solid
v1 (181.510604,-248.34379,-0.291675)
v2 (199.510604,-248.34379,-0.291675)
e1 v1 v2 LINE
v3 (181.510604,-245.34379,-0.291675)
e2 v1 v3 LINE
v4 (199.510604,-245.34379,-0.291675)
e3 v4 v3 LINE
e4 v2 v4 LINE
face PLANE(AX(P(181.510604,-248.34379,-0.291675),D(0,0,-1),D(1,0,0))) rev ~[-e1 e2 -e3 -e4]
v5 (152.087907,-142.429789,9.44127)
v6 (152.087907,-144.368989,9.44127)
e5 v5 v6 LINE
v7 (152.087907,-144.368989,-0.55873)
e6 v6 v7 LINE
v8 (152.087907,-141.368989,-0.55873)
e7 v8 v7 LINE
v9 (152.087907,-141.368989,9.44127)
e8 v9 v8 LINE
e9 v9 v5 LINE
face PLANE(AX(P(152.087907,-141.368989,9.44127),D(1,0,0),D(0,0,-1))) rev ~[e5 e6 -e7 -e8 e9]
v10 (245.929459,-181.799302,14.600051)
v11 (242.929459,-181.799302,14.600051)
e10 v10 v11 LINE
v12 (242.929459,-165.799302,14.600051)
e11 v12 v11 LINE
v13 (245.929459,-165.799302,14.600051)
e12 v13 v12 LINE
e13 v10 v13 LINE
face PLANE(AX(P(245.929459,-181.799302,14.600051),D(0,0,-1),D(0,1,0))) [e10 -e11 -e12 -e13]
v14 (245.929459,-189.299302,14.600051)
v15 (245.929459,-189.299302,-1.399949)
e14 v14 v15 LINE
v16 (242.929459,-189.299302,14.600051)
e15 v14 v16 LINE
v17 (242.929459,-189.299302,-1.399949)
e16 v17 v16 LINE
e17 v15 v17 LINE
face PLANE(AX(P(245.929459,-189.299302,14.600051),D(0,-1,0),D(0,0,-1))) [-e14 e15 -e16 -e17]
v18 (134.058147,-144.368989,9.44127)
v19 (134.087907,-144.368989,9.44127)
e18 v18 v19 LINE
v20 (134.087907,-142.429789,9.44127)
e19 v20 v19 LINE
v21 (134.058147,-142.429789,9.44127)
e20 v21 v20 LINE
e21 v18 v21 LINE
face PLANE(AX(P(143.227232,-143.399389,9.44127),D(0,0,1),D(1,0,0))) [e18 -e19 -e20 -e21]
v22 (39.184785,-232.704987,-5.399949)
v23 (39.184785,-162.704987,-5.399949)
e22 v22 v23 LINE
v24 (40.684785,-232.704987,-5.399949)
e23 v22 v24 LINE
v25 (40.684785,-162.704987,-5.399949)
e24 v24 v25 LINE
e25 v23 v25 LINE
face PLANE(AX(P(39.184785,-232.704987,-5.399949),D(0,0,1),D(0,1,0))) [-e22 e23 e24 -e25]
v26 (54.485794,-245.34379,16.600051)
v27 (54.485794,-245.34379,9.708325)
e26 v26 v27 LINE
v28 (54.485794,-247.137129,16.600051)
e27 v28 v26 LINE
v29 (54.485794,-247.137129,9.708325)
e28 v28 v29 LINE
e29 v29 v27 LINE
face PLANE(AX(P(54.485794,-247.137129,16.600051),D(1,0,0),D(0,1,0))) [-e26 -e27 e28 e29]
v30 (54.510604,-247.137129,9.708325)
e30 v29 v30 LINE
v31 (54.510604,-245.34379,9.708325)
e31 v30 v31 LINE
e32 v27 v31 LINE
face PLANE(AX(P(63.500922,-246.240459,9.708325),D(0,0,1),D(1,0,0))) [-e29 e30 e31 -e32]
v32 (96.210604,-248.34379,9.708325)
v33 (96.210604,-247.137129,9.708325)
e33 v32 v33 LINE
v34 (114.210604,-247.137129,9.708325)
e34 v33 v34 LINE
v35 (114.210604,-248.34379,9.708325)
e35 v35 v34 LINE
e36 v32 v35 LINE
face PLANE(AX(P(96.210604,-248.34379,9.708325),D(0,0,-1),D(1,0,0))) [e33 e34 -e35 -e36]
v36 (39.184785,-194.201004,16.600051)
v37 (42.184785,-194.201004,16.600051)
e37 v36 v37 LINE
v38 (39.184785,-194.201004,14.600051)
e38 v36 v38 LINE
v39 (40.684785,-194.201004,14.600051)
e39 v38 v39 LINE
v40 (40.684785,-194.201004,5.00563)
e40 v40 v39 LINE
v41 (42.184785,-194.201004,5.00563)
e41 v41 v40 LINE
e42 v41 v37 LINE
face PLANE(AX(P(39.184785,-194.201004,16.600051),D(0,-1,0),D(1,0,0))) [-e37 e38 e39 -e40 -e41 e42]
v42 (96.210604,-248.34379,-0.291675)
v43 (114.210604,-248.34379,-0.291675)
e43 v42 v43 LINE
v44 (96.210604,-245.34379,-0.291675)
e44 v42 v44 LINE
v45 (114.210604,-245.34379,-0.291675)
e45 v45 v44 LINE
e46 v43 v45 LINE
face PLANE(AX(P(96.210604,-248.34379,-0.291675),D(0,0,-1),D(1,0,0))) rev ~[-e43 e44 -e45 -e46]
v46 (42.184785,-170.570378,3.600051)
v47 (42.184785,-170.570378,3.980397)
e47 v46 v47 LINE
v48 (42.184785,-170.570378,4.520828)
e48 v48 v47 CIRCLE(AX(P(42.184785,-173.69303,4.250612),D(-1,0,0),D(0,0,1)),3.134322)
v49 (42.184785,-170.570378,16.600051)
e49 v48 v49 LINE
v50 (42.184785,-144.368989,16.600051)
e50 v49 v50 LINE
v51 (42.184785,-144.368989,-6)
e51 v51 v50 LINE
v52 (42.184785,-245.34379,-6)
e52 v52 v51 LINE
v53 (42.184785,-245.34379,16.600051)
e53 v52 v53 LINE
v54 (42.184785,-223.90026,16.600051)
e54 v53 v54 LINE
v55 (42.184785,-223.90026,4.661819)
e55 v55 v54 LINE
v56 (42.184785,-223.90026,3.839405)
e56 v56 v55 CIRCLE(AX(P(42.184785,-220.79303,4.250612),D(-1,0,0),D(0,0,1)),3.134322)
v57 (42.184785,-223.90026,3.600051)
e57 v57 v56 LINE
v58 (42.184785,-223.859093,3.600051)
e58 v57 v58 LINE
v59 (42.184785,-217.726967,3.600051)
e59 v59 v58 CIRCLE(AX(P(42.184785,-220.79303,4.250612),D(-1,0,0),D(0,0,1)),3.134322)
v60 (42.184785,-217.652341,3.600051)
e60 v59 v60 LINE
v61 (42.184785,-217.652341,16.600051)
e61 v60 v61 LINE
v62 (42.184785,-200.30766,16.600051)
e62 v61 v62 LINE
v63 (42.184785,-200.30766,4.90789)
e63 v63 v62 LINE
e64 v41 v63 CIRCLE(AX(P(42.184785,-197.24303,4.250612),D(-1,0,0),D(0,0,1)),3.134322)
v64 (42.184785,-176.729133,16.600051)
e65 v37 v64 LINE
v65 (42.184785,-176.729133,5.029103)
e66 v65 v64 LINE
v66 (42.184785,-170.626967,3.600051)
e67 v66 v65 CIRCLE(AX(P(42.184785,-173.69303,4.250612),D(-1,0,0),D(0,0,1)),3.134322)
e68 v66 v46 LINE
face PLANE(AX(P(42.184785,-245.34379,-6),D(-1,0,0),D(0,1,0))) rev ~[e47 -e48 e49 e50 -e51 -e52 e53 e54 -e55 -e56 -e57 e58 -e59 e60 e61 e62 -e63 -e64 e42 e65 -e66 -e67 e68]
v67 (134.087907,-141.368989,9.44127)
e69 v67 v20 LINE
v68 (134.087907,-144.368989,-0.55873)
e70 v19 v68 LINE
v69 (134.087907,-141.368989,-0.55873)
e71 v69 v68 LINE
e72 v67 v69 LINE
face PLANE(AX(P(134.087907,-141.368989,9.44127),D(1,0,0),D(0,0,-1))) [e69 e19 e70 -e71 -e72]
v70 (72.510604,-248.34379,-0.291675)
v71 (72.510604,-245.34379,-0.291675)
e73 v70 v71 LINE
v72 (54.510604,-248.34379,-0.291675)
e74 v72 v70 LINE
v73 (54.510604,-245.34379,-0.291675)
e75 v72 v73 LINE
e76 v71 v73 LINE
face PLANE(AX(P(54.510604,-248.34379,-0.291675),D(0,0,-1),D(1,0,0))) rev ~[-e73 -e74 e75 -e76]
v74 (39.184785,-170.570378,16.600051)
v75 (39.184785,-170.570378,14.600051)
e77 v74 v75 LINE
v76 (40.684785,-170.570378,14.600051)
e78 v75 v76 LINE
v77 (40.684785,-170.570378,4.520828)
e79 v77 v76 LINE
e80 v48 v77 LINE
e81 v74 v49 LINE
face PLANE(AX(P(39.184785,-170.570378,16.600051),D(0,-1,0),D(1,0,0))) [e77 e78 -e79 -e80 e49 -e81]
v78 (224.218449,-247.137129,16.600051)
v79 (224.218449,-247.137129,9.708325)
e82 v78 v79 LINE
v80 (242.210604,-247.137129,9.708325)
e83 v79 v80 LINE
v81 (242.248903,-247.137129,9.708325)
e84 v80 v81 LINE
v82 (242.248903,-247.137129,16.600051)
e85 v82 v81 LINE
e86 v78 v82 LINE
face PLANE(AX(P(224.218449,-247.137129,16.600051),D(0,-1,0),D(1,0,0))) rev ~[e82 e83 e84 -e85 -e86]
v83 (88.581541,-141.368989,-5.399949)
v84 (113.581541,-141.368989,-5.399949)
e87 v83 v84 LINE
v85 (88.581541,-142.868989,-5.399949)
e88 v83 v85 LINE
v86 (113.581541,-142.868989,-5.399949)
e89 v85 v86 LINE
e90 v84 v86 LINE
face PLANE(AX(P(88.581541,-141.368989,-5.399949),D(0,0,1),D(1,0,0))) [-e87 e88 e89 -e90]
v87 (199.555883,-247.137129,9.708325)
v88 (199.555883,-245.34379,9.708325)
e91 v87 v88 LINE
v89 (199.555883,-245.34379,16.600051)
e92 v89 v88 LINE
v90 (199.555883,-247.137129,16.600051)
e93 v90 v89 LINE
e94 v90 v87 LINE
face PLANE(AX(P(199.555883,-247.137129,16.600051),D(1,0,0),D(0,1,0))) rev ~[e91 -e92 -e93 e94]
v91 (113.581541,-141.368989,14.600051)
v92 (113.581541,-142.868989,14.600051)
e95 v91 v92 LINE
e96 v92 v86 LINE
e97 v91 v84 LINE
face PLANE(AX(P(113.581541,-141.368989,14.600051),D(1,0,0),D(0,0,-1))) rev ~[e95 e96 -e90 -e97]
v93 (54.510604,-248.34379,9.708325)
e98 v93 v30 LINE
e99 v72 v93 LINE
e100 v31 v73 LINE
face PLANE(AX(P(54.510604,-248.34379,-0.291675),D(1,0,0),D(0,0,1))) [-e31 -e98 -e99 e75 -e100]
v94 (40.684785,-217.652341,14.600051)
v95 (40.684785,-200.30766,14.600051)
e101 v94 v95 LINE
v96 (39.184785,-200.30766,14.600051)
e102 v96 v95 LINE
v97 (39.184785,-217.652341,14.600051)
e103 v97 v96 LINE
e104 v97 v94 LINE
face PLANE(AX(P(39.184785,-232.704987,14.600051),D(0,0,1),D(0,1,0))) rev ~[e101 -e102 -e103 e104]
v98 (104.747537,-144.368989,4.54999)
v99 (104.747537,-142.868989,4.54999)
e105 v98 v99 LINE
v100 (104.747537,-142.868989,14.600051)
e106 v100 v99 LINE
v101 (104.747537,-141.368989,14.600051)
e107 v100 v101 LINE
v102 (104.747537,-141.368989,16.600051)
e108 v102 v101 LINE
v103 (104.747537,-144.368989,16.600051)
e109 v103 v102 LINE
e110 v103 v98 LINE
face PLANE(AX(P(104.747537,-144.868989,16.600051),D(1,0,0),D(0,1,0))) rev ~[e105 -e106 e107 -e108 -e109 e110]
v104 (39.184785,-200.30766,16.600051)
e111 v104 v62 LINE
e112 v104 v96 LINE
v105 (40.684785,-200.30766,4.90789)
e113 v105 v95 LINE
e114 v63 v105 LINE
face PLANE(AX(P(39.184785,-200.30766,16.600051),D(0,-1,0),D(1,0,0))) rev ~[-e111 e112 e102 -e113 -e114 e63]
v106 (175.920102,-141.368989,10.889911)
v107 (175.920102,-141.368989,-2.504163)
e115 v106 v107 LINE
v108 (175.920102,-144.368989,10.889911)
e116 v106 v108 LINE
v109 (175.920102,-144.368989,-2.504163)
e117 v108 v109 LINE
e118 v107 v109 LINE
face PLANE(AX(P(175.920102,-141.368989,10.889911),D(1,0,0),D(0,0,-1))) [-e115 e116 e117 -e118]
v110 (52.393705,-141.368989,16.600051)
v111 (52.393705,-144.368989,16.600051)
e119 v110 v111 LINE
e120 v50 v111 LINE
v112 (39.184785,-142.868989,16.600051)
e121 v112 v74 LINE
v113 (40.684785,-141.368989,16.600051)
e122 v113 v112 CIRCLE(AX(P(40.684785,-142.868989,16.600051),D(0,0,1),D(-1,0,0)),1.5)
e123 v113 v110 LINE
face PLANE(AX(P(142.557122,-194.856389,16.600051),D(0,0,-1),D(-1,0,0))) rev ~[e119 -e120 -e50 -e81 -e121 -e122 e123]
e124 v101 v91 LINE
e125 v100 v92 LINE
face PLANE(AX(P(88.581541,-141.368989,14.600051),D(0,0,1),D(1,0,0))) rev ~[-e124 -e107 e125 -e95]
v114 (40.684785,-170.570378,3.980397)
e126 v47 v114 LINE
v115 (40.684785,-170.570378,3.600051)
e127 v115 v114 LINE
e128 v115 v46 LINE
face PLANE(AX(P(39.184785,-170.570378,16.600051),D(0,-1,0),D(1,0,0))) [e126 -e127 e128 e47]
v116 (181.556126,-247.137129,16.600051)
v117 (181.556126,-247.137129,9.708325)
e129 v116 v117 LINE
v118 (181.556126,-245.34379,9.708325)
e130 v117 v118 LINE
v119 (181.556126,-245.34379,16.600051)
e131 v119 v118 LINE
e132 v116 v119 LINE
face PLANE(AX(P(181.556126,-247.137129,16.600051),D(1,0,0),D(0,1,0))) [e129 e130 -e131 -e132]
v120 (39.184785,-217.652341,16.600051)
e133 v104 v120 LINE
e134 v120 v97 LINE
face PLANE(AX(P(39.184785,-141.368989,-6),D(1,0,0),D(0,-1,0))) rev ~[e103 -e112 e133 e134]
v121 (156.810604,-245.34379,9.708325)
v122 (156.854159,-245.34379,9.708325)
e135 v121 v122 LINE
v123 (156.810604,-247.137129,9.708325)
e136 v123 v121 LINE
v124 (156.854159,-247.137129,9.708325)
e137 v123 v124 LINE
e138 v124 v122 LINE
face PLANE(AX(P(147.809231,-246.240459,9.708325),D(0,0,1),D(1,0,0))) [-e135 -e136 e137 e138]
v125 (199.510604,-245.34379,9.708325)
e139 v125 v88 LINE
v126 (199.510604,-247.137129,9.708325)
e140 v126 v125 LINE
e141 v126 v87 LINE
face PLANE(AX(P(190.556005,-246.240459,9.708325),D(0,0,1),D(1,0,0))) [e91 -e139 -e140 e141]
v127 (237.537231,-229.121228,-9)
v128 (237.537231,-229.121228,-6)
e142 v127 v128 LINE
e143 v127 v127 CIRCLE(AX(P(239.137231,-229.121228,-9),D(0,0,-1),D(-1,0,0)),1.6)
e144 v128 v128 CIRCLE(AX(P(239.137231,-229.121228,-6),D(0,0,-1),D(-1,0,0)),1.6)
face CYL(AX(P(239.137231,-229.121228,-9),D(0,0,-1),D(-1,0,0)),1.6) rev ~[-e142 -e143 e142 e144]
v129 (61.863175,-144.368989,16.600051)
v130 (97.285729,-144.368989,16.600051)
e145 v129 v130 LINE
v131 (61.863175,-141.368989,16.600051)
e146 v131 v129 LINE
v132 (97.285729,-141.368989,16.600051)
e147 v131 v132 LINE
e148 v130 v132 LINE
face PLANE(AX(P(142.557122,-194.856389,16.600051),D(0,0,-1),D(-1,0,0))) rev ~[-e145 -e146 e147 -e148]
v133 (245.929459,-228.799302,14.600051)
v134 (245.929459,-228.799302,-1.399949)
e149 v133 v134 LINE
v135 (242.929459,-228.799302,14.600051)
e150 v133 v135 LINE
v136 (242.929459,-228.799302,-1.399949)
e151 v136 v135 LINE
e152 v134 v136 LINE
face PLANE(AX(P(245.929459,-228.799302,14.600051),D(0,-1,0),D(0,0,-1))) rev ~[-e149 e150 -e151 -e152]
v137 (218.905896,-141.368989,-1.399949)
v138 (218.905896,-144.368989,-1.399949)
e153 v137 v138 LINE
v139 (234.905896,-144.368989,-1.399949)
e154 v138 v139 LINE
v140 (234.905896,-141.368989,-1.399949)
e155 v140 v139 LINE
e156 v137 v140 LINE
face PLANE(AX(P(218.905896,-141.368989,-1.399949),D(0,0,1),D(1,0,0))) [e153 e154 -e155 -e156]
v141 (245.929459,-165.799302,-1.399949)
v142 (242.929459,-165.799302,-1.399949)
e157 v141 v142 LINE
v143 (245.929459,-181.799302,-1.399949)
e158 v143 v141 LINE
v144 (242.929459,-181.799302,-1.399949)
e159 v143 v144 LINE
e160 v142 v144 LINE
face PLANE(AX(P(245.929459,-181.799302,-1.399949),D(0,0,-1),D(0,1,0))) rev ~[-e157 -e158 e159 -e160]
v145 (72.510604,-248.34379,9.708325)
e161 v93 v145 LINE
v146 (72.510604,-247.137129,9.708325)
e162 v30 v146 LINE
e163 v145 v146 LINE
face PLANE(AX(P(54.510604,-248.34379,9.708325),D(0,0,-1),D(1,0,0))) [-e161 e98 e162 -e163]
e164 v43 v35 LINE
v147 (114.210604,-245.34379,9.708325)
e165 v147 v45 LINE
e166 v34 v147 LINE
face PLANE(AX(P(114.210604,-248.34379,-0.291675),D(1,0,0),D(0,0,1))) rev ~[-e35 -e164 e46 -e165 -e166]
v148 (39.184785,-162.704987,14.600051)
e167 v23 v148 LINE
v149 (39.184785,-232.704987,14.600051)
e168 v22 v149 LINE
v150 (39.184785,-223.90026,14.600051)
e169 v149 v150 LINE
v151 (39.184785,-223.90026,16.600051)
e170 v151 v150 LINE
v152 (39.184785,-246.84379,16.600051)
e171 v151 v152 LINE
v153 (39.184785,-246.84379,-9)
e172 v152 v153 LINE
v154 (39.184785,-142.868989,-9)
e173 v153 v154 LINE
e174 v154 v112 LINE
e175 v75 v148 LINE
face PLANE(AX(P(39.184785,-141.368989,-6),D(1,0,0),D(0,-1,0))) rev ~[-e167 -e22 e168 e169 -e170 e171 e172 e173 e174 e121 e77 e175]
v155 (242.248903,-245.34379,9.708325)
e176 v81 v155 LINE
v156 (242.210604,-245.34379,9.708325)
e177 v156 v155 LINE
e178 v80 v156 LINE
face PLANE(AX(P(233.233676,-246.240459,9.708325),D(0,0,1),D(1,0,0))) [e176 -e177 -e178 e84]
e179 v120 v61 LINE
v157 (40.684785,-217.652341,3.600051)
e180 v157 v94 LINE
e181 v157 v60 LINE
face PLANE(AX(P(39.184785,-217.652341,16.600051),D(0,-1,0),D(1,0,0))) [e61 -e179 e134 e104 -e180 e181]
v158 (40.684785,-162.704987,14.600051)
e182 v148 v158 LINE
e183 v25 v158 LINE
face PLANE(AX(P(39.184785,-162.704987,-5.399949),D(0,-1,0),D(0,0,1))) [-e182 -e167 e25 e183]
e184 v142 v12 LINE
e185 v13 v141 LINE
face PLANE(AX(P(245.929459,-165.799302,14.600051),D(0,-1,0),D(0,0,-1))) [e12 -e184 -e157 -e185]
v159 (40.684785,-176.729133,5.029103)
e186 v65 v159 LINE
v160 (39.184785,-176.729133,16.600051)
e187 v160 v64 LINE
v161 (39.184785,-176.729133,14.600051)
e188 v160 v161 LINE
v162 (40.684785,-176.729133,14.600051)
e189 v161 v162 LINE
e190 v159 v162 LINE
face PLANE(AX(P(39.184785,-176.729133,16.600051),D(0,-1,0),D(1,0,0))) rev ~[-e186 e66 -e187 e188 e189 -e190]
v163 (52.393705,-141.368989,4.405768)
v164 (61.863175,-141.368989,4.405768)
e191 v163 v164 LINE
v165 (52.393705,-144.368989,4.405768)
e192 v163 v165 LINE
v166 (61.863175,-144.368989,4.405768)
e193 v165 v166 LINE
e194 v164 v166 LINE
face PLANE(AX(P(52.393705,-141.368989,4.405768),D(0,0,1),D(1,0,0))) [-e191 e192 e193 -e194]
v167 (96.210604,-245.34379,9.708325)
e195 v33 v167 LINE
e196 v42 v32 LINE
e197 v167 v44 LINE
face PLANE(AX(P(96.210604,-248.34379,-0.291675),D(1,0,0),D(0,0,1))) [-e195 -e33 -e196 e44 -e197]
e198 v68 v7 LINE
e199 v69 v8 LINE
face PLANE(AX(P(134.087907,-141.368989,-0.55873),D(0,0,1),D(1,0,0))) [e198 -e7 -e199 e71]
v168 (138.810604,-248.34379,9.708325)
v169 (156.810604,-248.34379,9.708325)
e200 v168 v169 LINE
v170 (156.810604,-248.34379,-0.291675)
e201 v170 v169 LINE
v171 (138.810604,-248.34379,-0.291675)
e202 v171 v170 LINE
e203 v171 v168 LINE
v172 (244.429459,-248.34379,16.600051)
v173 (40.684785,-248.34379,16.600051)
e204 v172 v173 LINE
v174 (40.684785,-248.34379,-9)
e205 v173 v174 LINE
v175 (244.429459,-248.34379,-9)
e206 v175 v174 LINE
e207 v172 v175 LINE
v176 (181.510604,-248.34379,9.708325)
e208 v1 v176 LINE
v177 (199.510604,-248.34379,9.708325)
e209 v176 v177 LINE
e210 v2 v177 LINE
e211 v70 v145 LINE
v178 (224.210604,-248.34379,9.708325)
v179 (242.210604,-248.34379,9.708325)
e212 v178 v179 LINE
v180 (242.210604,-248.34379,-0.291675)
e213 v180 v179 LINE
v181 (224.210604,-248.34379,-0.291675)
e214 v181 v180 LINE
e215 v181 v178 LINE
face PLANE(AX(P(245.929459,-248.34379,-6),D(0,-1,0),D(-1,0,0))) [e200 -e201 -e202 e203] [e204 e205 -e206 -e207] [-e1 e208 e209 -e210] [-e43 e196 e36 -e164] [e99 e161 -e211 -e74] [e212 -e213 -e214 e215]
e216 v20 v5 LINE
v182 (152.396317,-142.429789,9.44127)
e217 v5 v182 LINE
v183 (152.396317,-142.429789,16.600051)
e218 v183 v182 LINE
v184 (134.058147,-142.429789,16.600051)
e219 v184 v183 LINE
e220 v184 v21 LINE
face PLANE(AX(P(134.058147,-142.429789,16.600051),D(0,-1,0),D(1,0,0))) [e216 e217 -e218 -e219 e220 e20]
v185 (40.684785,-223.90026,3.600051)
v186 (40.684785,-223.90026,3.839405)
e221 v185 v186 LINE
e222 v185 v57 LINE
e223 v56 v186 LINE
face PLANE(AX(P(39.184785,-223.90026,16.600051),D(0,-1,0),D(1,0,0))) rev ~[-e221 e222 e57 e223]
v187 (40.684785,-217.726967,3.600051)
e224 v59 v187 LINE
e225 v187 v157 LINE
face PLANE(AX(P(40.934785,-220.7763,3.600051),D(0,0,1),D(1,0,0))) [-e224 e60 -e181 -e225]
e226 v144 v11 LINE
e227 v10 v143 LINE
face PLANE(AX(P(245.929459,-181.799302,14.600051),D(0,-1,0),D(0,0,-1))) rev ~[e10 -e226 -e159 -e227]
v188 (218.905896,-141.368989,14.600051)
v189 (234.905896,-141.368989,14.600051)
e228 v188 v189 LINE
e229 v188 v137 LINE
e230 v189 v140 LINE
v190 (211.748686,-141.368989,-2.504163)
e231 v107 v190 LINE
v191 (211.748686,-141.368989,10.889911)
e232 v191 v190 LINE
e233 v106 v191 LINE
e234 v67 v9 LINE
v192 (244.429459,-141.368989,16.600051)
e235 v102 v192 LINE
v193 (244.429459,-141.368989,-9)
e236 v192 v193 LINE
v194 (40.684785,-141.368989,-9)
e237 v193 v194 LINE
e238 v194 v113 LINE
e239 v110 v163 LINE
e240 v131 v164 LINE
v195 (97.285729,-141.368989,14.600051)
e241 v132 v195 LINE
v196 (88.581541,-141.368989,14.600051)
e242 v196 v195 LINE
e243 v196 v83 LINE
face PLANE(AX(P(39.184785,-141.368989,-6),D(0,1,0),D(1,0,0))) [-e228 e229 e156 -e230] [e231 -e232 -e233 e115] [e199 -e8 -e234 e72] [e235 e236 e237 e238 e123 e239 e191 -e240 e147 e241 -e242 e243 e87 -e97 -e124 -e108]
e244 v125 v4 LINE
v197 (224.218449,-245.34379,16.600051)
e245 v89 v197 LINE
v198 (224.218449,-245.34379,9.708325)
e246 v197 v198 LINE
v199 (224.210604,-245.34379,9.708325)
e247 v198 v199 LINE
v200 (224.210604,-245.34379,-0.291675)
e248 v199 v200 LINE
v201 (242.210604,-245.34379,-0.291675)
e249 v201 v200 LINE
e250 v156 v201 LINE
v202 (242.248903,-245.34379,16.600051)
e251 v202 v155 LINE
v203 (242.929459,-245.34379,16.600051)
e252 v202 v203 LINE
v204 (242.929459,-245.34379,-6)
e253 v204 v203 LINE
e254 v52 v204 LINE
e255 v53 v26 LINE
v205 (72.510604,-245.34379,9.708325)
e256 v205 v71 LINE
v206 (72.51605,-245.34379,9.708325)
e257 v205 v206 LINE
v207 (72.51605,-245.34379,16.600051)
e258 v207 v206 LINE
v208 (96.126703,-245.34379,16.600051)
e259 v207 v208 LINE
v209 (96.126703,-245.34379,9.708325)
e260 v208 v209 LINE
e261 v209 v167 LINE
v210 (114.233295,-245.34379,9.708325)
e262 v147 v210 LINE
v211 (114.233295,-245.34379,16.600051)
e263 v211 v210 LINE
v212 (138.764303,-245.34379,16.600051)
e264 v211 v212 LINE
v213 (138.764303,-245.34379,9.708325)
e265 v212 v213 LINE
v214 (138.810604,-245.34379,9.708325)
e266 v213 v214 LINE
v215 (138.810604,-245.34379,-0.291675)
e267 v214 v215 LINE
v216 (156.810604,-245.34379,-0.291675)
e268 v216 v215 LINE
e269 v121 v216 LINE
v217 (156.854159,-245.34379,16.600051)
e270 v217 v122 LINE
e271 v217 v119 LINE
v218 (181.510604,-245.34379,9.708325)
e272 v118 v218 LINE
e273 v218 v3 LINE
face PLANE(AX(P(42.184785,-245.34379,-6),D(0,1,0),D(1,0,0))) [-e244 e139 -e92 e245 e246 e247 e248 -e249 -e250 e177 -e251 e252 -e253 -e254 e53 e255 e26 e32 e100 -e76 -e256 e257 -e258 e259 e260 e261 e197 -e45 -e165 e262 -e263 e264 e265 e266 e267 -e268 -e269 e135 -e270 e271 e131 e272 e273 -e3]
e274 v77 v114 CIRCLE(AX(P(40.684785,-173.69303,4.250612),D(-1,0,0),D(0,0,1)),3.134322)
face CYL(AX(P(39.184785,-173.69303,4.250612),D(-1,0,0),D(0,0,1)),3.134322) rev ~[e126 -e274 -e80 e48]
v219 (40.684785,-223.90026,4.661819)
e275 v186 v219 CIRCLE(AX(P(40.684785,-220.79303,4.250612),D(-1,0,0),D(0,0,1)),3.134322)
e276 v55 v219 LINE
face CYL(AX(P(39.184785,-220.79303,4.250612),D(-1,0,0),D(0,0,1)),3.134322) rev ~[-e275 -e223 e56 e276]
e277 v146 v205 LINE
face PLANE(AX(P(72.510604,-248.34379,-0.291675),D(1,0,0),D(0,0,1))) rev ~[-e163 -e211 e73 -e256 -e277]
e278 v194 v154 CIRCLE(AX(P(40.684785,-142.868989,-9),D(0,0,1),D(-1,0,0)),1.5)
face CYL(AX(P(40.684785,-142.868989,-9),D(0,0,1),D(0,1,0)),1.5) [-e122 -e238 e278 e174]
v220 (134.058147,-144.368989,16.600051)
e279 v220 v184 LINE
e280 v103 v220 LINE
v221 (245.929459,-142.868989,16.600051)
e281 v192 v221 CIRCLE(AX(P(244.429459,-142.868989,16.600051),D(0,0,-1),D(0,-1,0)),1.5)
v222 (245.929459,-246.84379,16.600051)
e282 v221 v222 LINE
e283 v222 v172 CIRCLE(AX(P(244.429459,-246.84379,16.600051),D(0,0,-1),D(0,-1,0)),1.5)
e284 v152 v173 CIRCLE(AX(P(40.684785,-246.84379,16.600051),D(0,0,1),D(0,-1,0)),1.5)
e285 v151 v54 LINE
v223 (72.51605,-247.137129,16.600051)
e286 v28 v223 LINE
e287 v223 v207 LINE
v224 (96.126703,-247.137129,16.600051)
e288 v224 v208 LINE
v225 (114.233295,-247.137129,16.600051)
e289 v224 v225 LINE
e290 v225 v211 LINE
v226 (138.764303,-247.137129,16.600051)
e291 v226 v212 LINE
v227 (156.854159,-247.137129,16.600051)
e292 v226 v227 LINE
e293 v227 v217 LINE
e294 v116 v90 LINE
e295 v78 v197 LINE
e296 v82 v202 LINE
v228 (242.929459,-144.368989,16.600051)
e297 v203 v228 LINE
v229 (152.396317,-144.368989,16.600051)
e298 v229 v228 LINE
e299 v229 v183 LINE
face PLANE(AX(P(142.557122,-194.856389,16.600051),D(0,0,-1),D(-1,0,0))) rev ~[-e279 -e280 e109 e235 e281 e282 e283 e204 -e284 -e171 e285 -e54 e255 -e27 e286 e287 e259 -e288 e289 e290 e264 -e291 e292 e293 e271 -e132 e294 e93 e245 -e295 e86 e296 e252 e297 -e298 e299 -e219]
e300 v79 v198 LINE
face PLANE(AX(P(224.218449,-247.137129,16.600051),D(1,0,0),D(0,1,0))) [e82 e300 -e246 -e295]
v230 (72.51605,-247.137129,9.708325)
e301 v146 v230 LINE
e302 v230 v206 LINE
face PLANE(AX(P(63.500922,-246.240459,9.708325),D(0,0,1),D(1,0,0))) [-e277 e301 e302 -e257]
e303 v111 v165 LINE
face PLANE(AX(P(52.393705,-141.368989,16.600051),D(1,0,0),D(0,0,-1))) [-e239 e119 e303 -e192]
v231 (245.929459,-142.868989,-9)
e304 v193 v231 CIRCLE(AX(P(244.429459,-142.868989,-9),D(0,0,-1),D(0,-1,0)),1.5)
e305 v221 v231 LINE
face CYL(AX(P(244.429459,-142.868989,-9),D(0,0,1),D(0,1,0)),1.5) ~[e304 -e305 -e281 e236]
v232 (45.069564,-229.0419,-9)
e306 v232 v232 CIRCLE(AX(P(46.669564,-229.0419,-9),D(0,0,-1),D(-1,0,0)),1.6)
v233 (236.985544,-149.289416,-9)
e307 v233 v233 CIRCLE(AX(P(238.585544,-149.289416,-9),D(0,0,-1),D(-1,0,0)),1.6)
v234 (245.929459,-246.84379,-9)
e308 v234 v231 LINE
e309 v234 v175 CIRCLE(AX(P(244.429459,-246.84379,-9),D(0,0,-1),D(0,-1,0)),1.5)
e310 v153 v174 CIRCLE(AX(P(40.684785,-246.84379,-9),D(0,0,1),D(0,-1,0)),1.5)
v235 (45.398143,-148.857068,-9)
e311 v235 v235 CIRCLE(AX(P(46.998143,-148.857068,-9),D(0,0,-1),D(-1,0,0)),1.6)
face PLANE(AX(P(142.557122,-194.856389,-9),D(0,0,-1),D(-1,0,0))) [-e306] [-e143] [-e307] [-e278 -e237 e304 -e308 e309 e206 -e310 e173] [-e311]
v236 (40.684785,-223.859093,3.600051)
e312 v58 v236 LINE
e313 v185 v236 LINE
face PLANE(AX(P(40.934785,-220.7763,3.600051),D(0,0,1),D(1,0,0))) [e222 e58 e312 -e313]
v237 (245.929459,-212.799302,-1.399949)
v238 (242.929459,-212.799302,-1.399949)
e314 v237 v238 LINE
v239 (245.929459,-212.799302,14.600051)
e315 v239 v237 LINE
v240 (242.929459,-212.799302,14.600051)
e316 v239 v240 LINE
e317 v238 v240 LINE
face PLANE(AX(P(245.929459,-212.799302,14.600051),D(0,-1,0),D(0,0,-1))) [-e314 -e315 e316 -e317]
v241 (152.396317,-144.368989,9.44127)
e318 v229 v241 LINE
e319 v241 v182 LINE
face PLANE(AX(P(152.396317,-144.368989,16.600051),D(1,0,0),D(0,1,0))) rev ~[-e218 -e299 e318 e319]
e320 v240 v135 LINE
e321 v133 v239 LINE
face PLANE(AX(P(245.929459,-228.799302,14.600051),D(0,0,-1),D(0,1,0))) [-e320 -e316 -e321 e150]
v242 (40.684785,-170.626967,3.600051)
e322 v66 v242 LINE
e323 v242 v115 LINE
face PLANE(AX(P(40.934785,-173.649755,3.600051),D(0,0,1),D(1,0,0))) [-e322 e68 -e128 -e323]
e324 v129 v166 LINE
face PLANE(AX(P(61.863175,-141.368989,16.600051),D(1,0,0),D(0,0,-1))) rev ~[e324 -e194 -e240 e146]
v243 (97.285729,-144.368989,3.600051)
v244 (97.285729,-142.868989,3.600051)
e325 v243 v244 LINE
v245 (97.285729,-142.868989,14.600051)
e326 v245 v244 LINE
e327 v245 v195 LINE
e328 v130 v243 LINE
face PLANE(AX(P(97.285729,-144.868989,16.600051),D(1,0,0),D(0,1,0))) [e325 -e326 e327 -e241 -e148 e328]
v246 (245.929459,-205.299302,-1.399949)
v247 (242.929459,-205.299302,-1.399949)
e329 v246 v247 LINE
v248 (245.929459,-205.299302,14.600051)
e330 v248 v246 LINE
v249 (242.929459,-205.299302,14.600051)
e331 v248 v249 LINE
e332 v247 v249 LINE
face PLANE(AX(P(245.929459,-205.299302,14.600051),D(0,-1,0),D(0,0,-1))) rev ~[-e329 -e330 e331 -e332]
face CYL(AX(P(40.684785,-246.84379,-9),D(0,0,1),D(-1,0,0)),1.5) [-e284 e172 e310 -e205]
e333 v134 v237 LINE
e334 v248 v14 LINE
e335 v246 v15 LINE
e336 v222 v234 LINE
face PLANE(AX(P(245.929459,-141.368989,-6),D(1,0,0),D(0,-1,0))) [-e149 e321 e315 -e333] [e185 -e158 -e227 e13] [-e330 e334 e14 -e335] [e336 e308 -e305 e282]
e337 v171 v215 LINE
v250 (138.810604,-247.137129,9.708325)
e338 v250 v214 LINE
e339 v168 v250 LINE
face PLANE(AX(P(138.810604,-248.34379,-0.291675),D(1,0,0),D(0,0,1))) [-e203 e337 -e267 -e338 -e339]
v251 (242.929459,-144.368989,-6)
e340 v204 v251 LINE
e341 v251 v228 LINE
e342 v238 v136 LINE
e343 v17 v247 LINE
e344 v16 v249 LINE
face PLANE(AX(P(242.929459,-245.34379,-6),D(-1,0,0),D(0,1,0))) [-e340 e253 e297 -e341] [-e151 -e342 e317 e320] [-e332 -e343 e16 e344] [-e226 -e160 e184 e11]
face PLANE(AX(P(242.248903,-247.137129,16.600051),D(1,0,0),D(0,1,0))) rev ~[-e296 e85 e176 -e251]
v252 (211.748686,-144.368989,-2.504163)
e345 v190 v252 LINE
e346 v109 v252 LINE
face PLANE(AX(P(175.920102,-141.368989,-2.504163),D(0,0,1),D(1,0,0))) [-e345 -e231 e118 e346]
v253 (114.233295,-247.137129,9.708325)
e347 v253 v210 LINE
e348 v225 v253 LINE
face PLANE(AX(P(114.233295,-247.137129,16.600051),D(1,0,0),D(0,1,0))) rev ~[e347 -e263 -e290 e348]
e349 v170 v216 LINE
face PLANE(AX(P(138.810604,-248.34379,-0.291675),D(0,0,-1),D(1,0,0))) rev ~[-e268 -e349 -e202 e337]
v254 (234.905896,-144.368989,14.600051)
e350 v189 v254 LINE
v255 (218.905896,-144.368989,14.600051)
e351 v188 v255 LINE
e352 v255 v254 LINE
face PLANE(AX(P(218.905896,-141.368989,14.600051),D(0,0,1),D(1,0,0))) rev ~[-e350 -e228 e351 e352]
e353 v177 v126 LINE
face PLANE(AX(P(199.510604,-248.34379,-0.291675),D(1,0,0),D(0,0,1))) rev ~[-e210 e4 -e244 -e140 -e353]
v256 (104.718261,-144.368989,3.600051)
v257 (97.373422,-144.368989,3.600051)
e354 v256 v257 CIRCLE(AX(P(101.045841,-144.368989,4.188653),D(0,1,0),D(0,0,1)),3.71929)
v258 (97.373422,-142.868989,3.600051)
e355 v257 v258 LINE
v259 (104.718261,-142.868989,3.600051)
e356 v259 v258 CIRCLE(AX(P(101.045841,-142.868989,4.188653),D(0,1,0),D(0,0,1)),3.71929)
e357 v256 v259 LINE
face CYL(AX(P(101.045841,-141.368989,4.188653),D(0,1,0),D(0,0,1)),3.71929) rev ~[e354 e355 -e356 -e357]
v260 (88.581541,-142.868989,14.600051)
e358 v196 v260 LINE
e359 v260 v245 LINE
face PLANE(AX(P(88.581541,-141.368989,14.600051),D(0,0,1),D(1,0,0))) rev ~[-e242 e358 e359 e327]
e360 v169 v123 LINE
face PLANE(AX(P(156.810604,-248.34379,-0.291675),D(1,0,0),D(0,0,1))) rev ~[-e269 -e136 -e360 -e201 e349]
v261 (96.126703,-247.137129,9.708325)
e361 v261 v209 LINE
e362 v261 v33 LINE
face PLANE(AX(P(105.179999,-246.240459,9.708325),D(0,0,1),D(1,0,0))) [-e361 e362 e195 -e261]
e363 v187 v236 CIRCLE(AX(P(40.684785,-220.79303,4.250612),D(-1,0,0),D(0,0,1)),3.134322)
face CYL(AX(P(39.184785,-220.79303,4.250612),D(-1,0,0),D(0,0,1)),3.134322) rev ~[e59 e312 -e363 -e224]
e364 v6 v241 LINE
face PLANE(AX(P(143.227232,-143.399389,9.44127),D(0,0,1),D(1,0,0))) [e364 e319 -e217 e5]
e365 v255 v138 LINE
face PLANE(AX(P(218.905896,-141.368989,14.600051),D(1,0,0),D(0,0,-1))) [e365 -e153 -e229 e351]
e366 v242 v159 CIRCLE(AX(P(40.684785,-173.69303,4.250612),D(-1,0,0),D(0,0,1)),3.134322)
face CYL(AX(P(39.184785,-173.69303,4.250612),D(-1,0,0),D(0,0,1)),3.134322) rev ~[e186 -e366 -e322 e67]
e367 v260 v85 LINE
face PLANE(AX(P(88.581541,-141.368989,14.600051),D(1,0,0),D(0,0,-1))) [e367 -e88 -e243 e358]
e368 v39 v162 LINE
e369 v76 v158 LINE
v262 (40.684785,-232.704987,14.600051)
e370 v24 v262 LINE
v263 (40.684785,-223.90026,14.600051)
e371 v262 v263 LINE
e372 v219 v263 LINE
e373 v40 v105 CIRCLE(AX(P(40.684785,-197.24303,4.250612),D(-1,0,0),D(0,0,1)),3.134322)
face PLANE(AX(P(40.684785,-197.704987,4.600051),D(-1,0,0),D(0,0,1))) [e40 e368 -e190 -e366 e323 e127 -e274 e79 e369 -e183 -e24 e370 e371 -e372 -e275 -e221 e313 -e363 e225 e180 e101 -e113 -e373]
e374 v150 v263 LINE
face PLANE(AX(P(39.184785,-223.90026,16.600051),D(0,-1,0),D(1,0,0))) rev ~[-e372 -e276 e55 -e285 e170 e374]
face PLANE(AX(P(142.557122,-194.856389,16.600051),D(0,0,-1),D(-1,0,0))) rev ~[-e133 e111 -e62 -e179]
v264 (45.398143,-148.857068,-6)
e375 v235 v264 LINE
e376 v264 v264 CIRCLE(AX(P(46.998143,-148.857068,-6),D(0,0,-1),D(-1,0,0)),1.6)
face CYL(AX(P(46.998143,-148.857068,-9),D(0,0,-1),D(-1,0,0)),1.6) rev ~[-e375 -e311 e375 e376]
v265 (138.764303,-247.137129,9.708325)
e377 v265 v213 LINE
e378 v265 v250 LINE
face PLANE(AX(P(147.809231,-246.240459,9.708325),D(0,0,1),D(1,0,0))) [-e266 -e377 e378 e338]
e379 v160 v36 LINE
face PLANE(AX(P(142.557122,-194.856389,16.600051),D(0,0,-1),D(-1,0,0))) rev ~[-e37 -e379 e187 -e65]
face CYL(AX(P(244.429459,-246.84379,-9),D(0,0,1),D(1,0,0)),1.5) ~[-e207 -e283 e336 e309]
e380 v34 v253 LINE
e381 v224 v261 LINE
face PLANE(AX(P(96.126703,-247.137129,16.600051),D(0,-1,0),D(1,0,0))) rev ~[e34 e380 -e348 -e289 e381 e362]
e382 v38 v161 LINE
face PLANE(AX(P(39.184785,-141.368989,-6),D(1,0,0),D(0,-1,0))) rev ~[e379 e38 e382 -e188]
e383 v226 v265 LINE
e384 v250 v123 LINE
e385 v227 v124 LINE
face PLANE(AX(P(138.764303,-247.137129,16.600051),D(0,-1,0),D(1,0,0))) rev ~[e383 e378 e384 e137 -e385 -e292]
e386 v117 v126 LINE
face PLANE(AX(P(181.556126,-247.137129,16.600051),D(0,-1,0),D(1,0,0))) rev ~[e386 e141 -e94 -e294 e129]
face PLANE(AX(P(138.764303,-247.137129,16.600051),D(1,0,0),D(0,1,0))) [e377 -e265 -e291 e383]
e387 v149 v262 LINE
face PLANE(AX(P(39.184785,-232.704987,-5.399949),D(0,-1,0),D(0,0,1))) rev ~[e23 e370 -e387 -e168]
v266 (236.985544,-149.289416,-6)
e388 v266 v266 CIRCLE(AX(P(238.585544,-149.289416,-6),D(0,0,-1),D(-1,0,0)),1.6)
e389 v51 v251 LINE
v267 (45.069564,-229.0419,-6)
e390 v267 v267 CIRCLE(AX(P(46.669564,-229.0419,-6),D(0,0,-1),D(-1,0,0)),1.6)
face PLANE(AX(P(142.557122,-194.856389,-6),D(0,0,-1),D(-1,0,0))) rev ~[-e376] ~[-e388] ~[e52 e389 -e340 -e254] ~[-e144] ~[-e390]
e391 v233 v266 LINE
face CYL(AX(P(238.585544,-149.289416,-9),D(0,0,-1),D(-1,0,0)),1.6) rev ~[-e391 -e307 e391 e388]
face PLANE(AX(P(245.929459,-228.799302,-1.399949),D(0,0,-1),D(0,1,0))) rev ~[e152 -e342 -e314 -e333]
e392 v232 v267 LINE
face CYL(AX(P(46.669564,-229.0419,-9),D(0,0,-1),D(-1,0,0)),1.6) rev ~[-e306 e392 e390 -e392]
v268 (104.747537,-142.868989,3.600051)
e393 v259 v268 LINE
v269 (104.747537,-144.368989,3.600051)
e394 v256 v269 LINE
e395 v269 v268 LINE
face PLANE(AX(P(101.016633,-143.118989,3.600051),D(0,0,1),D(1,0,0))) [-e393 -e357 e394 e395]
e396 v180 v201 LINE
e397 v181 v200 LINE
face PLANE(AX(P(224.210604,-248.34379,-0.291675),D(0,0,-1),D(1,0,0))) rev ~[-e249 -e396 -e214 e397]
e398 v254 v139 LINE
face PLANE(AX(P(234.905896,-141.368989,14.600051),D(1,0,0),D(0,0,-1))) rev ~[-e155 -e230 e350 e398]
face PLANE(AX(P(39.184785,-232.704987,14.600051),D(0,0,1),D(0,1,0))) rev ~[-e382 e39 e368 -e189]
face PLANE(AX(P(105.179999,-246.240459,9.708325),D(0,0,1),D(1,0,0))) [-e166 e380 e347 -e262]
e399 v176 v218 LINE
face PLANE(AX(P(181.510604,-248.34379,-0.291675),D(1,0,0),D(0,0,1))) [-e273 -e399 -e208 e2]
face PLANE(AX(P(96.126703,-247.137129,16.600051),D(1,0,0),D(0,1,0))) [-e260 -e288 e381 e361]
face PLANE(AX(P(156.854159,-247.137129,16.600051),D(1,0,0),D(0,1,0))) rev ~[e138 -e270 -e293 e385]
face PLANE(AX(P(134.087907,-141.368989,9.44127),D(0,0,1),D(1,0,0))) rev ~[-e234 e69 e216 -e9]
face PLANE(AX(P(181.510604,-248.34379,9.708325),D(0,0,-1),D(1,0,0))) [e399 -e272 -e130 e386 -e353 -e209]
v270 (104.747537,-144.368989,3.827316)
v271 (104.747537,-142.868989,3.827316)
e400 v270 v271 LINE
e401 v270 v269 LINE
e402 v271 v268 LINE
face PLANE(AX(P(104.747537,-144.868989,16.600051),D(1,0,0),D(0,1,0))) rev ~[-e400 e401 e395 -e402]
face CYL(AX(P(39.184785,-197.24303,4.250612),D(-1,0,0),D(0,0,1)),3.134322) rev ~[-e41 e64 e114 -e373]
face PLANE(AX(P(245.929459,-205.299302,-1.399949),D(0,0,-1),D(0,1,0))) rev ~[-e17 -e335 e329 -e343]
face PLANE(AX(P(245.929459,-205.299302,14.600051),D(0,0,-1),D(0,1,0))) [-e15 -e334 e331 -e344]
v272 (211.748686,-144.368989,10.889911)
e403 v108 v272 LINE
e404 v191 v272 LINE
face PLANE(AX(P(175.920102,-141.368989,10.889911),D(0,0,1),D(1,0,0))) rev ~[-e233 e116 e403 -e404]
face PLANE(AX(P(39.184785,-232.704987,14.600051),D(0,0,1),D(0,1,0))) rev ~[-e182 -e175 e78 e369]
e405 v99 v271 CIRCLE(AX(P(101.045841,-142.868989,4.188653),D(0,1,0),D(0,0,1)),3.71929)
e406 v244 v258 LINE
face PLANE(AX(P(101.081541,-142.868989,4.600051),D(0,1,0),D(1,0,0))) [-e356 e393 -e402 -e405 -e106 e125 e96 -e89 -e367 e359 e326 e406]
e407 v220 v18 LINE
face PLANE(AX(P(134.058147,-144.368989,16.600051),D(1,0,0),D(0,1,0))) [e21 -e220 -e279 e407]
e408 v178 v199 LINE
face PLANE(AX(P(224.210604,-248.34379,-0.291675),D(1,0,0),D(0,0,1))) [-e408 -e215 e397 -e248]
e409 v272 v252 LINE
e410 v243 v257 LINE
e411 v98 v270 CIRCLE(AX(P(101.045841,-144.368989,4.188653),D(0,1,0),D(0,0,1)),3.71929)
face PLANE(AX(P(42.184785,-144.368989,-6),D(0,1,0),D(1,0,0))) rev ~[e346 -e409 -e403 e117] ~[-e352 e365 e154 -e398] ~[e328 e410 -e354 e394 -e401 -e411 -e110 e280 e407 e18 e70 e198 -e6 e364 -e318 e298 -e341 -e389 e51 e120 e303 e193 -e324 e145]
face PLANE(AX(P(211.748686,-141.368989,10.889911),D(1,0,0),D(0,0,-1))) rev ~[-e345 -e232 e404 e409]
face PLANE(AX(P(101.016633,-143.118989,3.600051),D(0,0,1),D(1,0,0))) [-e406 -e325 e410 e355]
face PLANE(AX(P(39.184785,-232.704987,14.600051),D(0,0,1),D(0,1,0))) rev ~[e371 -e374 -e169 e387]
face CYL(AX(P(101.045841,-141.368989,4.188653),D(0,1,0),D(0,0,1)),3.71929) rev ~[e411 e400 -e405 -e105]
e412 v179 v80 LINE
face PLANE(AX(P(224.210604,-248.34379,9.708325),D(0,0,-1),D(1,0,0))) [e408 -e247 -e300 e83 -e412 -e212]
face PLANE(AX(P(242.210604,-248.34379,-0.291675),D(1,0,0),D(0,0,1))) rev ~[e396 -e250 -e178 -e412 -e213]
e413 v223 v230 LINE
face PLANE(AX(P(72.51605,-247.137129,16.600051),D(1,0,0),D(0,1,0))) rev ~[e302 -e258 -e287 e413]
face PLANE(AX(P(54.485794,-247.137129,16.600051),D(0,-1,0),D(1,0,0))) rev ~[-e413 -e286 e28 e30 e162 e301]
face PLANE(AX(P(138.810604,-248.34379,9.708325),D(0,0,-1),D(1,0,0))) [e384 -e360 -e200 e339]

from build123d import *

# Parameters (mm, degrees)
SKETCH_1_W           = 206.744673609
SKETCH_1_H           = 106.97480061
EXTRUDE_1_DEPTH      = 3
SKETCH_3_W           = 200.744673609
SKETCH_3_H           = 100.97480061
EXTRUDE_2_DEPTH      = 22.6000508
SKETCH_4_W           = 18
SKETCH_4_H           = 10
CUT_EXTRUDE_1_DEPTH  = 5
SKETCH_6_W           = 16
SKETCH_6_H           = 16
CUT_EXTRUDE_2_DEPTH  = 5
SKETCH_7_W           = 16
SKETCH_7_H           = 16
CUT_EXTRUDE_3_DEPTH  = 5
SKETCH_8_W           = 18
SKETCH_8_H           = 10
CUT_EXTRUDE_4_DEPTH  = 5
SKETCH_9_W           = 35.828584262
SKETCH_9_H           = 13.394073463
CUT_EXTRUDE_5_DEPTH  = 5
SKETCH_10_R          = 3.719289999
CUT_EXTRUDE_6_DEPTH  = 5
SKETCH_11_W          = 9.469470229
SKETCH_11_H          = 12.194282659
CUT_EXTRUDE_7_DEPTH  = 5
SKETCH_12_R          = 3.134321658
CUT_EXTRUDE_8_DEPTH  = 5
SKETCH_13_R          = 1.6
CUT_EXTRUDE_9_DEPTH  = 5
SKETCH_15_W          = 25
SKETCH_15_H          = 20
CUT_EXTRUDE_11_DEPTH = 1.5
SKETCH_16_W          = 20
SKETCH_16_H          = 70
CUT_EXTRUDE_12_DEPTH = 1.5
FILLET_1_R           = 1.5
SKETCH_17_W          = 18.030255685
SKETCH_17_H          = 1.793339536
SKETCH_17_W_2        = 18.10659189
SKETCH_17_W_3        = 18.089855477
SKETCH_17_W_4        = 17.999756417
SKETCH_17_W_5        = 18.030454167
CUT_EXTRUDE_13_DEPTH = 6.89172601
SKETCH_18_W          = 18.338169952
SKETCH_18_H          = 1.939199609
CUT_EXTRUDE_14_DEPTH = 7.158781029
SKETCH_21_W          = 7.461807672
SKETCH_21_H          = 3.5
SKETCH_21_W_2        = 3.5
SKETCH_21_H_2        = 6.158755504
SKETCH_21_H_3        = 6.106655877
SKETCH_21_H_4        = 6.247919092
CUT_EXTRUDE_16_DEPTH = 13


with BuildPart() as part:
    # 草图1 → 凸台-拉伸1 (new body)
    with BuildSketch(Plane(origin=(0, 0, -6), x_dir=(-1, 0, 0), z_dir=(0, 0, -1))):
        with Locations((-142.557122174, -194.856389383)):
            Rectangle(SKETCH_1_W, SKETCH_1_H)
    extrude(amount=EXTRUDE_1_DEPTH)

    # 草图3 → 凸台-拉伸2 (add)
    with BuildSketch(Plane.XY.offset(-6)):
        Polygon((39.18478537, -141.368989078), (245.929458979, -141.368989078), (245.929458979, -248.343789688), (39.18478537, -248.343789688), (39.18478537, -243.18233024), (39.18478537, -146.483402372), align=None)
        with Locations((142.557122174, -194.856389383)):
            Rectangle(SKETCH_3_W, SKETCH_3_H, mode=Mode.SUBTRACT)
    extrude(amount=EXTRUDE_2_DEPTH)

    # 草图4 → 切除-拉伸1 (cut)
    with BuildSketch(Plane.XZ.offset(248.343789688)):
        with Locations((105.2106038, 4.708324791)):
            Rectangle(SKETCH_4_W, SKETCH_4_H)
        with Locations((63.5106038, 4.708324791)):
            Rectangle(SKETCH_4_W, SKETCH_4_H)
        with Locations((147.8106038, 4.708324791)):
            Rectangle(SKETCH_4_W, SKETCH_4_H)
        with Locations((190.5106038, 4.708324791)):
            Rectangle(SKETCH_4_W, SKETCH_4_H)
        with Locations((233.2106038, 4.708324791)):
            Rectangle(SKETCH_4_W, SKETCH_4_H)
    extrude(amount=-CUT_EXTRUDE_1_DEPTH, mode=Mode.SUBTRACT)

    # 草图6 → 切除-拉伸2 (cut)
    with BuildSketch(Plane(origin=(245.929458979, 0, 0), x_dir=(0, 0, -1), z_dir=(1, 0, 0))):
        with Locations((-6.6000508, -220.799301723)):
            Rectangle(SKETCH_6_W, SKETCH_6_H)
        with Locations((-6.6000508, -197.299301723)):
            Rectangle(SKETCH_6_W, SKETCH_6_H)
        with Locations((-6.6000508, -173.799301723)):
            Rectangle(SKETCH_6_W, SKETCH_6_H)
    extrude(amount=-CUT_EXTRUDE_2_DEPTH, mode=Mode.SUBTRACT)

    # 草图7 → 切除-拉伸3 (cut)
    with BuildSketch(Plane(origin=(0, -141.368989078, 0), x_dir=(1, 0, 0), z_dir=(0, 1, 0))):
        with Locations((226.905896319, -6.6000508)):
            Rectangle(SKETCH_7_W, SKETCH_7_H)
    extrude(amount=-CUT_EXTRUDE_3_DEPTH, mode=Mode.SUBTRACT)

    # 草图8 → 切除-拉伸4 (cut)
    with BuildSketch(Plane(origin=(0, -141.368989078, 0), x_dir=(1, 0, 0), z_dir=(0, 1, 0))):
        with Locations((143.087906607, -4.441269771)):
            Rectangle(SKETCH_8_W, SKETCH_8_H)
    extrude(amount=-CUT_EXTRUDE_4_DEPTH, mode=Mode.SUBTRACT)

    # 草图9 → 切除-拉伸5 (cut)
    with BuildSketch(Plane(origin=(0, -141.368989078, 0), x_dir=(1, 0, 0), z_dir=(0, 1, 0))):
        with Locations((193.834394064, -4.192873823)):
            Rectangle(SKETCH_9_W, SKETCH_9_H)
    extrude(amount=-CUT_EXTRUDE_5_DEPTH, mode=Mode.SUBTRACT)

    # 草图10 → 切除-拉伸6 (cut)
    with BuildSketch(Plane(origin=(0, -141.368989078, 0), x_dir=(1, 0, 0), z_dir=(0, 1, 0))):
        with Locations(Location((101.045841124, -4.188653157, 0), (0, 0, 270))):
            Circle(SKETCH_10_R)
    extrude(amount=-CUT_EXTRUDE_6_DEPTH, mode=Mode.SUBTRACT)

    # 草图11 → 切除-拉伸7 (cut)
    with BuildSketch(Plane(origin=(0, -141.368989078, 0), x_dir=(1, 0, 0), z_dir=(0, 1, 0))):
        with Locations((57.128440025, -10.502909471)):
            Rectangle(SKETCH_11_W, SKETCH_11_H)
    extrude(amount=-CUT_EXTRUDE_7_DEPTH, mode=Mode.SUBTRACT)

    # 草图12 → 切除-拉伸8 (cut)
    with BuildSketch(Plane.ZY.offset(-39.18478537)):
        with Locations((4.250612207, -173.693029578)):
            Circle(SKETCH_12_R)
        with Locations((4.250612207, -197.243029578)):
            Circle(SKETCH_12_R)
        with Locations((4.250612207, -220.793029578)):
            Circle(SKETCH_12_R)
    extrude(amount=-CUT_EXTRUDE_8_DEPTH, mode=Mode.SUBTRACT)

    # 草图13 → 切除-拉伸9 (cut)
    with BuildSketch(Plane(origin=(0, 0, -9), x_dir=(-1, 0, 0), z_dir=(0, 0, -1))):
        with Locations((-238.585543847, -149.289415757)):
            Circle(SKETCH_13_R)
        with Locations((-46.99814318, -148.85706783)):
            Circle(SKETCH_13_R)
        with Locations((-46.669564212, -229.041899724)):
            Circle(SKETCH_13_R)
        with Locations((-239.137231318, -229.121228359)):
            Circle(SKETCH_13_R)
    extrude(amount=-CUT_EXTRUDE_9_DEPTH, mode=Mode.SUBTRACT)

    # 草图15 → 切除-拉伸11 (cut)
    with BuildSketch(Plane(origin=(0, -141.368989078, 0), x_dir=(1, 0, 0), z_dir=(0, 1, 0))):
        with Locations((101.081540793, -4.6000508)):
            Rectangle(SKETCH_15_W, SKETCH_15_H)
    extrude(amount=-CUT_EXTRUDE_11_DEPTH, mode=Mode.SUBTRACT)

    # 草图16 → 切除-拉伸12 (cut)
    with BuildSketch(Plane.ZY.offset(-39.18478537)):
        with Locations((4.6000508, -197.704987162)):
            Rectangle(SKETCH_16_W, SKETCH_16_H)
    extrude(amount=-CUT_EXTRUDE_12_DEPTH, mode=Mode.SUBTRACT)

    # 圆角1
    fillet_1_edges = [part.edges().sort_by_distance(p)[0] for p in [
        (245.929458979, -141.368989078, 3.8000254),
        (39.18478537, -141.368989078, 3.8000254),
        (39.18478537, -248.343789688, 3.8000254),
        (245.929458979, -248.343789688, 3.8000254),
    ]]
    fillet(fillet_1_edges, radius=FILLET_1_R)

    # 草图17 → 切除-拉伸13 (cut)
    with BuildSketch(Plane.XY.offset(16.6000508)):
        with Locations((63.500922097, -246.240459456)):
            Rectangle(SKETCH_17_W, SKETCH_17_H)
        with Locations((105.179998956, -246.240459456)):
            Rectangle(SKETCH_17_W_2, SKETCH_17_H)
        with Locations((147.809231135, -246.240459456)):
            Rectangle(SKETCH_17_W_3, SKETCH_17_H)
        with Locations((190.556004567, -246.240459456)):
            Rectangle(SKETCH_17_W_4, SKETCH_17_H)
        with Locations((233.233676321, -246.240459456)):
            Rectangle(SKETCH_17_W_5, SKETCH_17_H)
    extrude(amount=-CUT_EXTRUDE_13_DEPTH, mode=Mode.SUBTRACT)

    # 草图18 → 切除-拉伸14 (cut)
    with BuildSketch(Plane.XY.offset(16.6000508)):
        with Locations((143.227232083, -143.399389273)):
            Rectangle(SKETCH_18_W, SKETCH_18_H)
    extrude(amount=-CUT_EXTRUDE_14_DEPTH, mode=Mode.SUBTRACT)

    # 草图21 → 切除-拉伸16 (cut)
    with BuildSketch(Plane.XY.offset(16.6000508)):
        with Locations((101.01663333, -143.118989078)):
            Rectangle(SKETCH_21_W, SKETCH_21_H)
        with Locations((40.93478537, -173.649755278)):
            Rectangle(SKETCH_21_W_2, SKETCH_21_H_2)
        with Locations((40.93478537, -197.254331907)):
            Rectangle(SKETCH_21_W_2, SKETCH_21_H_3)
        with Locations((40.93478537, -220.776300492)):
            Rectangle(SKETCH_21_W_2, SKETCH_21_H_4)
    extrude(amount=-CUT_EXTRUDE_16_DEPTH, mode=Mode.SUBTRACT)


solid = part.part
